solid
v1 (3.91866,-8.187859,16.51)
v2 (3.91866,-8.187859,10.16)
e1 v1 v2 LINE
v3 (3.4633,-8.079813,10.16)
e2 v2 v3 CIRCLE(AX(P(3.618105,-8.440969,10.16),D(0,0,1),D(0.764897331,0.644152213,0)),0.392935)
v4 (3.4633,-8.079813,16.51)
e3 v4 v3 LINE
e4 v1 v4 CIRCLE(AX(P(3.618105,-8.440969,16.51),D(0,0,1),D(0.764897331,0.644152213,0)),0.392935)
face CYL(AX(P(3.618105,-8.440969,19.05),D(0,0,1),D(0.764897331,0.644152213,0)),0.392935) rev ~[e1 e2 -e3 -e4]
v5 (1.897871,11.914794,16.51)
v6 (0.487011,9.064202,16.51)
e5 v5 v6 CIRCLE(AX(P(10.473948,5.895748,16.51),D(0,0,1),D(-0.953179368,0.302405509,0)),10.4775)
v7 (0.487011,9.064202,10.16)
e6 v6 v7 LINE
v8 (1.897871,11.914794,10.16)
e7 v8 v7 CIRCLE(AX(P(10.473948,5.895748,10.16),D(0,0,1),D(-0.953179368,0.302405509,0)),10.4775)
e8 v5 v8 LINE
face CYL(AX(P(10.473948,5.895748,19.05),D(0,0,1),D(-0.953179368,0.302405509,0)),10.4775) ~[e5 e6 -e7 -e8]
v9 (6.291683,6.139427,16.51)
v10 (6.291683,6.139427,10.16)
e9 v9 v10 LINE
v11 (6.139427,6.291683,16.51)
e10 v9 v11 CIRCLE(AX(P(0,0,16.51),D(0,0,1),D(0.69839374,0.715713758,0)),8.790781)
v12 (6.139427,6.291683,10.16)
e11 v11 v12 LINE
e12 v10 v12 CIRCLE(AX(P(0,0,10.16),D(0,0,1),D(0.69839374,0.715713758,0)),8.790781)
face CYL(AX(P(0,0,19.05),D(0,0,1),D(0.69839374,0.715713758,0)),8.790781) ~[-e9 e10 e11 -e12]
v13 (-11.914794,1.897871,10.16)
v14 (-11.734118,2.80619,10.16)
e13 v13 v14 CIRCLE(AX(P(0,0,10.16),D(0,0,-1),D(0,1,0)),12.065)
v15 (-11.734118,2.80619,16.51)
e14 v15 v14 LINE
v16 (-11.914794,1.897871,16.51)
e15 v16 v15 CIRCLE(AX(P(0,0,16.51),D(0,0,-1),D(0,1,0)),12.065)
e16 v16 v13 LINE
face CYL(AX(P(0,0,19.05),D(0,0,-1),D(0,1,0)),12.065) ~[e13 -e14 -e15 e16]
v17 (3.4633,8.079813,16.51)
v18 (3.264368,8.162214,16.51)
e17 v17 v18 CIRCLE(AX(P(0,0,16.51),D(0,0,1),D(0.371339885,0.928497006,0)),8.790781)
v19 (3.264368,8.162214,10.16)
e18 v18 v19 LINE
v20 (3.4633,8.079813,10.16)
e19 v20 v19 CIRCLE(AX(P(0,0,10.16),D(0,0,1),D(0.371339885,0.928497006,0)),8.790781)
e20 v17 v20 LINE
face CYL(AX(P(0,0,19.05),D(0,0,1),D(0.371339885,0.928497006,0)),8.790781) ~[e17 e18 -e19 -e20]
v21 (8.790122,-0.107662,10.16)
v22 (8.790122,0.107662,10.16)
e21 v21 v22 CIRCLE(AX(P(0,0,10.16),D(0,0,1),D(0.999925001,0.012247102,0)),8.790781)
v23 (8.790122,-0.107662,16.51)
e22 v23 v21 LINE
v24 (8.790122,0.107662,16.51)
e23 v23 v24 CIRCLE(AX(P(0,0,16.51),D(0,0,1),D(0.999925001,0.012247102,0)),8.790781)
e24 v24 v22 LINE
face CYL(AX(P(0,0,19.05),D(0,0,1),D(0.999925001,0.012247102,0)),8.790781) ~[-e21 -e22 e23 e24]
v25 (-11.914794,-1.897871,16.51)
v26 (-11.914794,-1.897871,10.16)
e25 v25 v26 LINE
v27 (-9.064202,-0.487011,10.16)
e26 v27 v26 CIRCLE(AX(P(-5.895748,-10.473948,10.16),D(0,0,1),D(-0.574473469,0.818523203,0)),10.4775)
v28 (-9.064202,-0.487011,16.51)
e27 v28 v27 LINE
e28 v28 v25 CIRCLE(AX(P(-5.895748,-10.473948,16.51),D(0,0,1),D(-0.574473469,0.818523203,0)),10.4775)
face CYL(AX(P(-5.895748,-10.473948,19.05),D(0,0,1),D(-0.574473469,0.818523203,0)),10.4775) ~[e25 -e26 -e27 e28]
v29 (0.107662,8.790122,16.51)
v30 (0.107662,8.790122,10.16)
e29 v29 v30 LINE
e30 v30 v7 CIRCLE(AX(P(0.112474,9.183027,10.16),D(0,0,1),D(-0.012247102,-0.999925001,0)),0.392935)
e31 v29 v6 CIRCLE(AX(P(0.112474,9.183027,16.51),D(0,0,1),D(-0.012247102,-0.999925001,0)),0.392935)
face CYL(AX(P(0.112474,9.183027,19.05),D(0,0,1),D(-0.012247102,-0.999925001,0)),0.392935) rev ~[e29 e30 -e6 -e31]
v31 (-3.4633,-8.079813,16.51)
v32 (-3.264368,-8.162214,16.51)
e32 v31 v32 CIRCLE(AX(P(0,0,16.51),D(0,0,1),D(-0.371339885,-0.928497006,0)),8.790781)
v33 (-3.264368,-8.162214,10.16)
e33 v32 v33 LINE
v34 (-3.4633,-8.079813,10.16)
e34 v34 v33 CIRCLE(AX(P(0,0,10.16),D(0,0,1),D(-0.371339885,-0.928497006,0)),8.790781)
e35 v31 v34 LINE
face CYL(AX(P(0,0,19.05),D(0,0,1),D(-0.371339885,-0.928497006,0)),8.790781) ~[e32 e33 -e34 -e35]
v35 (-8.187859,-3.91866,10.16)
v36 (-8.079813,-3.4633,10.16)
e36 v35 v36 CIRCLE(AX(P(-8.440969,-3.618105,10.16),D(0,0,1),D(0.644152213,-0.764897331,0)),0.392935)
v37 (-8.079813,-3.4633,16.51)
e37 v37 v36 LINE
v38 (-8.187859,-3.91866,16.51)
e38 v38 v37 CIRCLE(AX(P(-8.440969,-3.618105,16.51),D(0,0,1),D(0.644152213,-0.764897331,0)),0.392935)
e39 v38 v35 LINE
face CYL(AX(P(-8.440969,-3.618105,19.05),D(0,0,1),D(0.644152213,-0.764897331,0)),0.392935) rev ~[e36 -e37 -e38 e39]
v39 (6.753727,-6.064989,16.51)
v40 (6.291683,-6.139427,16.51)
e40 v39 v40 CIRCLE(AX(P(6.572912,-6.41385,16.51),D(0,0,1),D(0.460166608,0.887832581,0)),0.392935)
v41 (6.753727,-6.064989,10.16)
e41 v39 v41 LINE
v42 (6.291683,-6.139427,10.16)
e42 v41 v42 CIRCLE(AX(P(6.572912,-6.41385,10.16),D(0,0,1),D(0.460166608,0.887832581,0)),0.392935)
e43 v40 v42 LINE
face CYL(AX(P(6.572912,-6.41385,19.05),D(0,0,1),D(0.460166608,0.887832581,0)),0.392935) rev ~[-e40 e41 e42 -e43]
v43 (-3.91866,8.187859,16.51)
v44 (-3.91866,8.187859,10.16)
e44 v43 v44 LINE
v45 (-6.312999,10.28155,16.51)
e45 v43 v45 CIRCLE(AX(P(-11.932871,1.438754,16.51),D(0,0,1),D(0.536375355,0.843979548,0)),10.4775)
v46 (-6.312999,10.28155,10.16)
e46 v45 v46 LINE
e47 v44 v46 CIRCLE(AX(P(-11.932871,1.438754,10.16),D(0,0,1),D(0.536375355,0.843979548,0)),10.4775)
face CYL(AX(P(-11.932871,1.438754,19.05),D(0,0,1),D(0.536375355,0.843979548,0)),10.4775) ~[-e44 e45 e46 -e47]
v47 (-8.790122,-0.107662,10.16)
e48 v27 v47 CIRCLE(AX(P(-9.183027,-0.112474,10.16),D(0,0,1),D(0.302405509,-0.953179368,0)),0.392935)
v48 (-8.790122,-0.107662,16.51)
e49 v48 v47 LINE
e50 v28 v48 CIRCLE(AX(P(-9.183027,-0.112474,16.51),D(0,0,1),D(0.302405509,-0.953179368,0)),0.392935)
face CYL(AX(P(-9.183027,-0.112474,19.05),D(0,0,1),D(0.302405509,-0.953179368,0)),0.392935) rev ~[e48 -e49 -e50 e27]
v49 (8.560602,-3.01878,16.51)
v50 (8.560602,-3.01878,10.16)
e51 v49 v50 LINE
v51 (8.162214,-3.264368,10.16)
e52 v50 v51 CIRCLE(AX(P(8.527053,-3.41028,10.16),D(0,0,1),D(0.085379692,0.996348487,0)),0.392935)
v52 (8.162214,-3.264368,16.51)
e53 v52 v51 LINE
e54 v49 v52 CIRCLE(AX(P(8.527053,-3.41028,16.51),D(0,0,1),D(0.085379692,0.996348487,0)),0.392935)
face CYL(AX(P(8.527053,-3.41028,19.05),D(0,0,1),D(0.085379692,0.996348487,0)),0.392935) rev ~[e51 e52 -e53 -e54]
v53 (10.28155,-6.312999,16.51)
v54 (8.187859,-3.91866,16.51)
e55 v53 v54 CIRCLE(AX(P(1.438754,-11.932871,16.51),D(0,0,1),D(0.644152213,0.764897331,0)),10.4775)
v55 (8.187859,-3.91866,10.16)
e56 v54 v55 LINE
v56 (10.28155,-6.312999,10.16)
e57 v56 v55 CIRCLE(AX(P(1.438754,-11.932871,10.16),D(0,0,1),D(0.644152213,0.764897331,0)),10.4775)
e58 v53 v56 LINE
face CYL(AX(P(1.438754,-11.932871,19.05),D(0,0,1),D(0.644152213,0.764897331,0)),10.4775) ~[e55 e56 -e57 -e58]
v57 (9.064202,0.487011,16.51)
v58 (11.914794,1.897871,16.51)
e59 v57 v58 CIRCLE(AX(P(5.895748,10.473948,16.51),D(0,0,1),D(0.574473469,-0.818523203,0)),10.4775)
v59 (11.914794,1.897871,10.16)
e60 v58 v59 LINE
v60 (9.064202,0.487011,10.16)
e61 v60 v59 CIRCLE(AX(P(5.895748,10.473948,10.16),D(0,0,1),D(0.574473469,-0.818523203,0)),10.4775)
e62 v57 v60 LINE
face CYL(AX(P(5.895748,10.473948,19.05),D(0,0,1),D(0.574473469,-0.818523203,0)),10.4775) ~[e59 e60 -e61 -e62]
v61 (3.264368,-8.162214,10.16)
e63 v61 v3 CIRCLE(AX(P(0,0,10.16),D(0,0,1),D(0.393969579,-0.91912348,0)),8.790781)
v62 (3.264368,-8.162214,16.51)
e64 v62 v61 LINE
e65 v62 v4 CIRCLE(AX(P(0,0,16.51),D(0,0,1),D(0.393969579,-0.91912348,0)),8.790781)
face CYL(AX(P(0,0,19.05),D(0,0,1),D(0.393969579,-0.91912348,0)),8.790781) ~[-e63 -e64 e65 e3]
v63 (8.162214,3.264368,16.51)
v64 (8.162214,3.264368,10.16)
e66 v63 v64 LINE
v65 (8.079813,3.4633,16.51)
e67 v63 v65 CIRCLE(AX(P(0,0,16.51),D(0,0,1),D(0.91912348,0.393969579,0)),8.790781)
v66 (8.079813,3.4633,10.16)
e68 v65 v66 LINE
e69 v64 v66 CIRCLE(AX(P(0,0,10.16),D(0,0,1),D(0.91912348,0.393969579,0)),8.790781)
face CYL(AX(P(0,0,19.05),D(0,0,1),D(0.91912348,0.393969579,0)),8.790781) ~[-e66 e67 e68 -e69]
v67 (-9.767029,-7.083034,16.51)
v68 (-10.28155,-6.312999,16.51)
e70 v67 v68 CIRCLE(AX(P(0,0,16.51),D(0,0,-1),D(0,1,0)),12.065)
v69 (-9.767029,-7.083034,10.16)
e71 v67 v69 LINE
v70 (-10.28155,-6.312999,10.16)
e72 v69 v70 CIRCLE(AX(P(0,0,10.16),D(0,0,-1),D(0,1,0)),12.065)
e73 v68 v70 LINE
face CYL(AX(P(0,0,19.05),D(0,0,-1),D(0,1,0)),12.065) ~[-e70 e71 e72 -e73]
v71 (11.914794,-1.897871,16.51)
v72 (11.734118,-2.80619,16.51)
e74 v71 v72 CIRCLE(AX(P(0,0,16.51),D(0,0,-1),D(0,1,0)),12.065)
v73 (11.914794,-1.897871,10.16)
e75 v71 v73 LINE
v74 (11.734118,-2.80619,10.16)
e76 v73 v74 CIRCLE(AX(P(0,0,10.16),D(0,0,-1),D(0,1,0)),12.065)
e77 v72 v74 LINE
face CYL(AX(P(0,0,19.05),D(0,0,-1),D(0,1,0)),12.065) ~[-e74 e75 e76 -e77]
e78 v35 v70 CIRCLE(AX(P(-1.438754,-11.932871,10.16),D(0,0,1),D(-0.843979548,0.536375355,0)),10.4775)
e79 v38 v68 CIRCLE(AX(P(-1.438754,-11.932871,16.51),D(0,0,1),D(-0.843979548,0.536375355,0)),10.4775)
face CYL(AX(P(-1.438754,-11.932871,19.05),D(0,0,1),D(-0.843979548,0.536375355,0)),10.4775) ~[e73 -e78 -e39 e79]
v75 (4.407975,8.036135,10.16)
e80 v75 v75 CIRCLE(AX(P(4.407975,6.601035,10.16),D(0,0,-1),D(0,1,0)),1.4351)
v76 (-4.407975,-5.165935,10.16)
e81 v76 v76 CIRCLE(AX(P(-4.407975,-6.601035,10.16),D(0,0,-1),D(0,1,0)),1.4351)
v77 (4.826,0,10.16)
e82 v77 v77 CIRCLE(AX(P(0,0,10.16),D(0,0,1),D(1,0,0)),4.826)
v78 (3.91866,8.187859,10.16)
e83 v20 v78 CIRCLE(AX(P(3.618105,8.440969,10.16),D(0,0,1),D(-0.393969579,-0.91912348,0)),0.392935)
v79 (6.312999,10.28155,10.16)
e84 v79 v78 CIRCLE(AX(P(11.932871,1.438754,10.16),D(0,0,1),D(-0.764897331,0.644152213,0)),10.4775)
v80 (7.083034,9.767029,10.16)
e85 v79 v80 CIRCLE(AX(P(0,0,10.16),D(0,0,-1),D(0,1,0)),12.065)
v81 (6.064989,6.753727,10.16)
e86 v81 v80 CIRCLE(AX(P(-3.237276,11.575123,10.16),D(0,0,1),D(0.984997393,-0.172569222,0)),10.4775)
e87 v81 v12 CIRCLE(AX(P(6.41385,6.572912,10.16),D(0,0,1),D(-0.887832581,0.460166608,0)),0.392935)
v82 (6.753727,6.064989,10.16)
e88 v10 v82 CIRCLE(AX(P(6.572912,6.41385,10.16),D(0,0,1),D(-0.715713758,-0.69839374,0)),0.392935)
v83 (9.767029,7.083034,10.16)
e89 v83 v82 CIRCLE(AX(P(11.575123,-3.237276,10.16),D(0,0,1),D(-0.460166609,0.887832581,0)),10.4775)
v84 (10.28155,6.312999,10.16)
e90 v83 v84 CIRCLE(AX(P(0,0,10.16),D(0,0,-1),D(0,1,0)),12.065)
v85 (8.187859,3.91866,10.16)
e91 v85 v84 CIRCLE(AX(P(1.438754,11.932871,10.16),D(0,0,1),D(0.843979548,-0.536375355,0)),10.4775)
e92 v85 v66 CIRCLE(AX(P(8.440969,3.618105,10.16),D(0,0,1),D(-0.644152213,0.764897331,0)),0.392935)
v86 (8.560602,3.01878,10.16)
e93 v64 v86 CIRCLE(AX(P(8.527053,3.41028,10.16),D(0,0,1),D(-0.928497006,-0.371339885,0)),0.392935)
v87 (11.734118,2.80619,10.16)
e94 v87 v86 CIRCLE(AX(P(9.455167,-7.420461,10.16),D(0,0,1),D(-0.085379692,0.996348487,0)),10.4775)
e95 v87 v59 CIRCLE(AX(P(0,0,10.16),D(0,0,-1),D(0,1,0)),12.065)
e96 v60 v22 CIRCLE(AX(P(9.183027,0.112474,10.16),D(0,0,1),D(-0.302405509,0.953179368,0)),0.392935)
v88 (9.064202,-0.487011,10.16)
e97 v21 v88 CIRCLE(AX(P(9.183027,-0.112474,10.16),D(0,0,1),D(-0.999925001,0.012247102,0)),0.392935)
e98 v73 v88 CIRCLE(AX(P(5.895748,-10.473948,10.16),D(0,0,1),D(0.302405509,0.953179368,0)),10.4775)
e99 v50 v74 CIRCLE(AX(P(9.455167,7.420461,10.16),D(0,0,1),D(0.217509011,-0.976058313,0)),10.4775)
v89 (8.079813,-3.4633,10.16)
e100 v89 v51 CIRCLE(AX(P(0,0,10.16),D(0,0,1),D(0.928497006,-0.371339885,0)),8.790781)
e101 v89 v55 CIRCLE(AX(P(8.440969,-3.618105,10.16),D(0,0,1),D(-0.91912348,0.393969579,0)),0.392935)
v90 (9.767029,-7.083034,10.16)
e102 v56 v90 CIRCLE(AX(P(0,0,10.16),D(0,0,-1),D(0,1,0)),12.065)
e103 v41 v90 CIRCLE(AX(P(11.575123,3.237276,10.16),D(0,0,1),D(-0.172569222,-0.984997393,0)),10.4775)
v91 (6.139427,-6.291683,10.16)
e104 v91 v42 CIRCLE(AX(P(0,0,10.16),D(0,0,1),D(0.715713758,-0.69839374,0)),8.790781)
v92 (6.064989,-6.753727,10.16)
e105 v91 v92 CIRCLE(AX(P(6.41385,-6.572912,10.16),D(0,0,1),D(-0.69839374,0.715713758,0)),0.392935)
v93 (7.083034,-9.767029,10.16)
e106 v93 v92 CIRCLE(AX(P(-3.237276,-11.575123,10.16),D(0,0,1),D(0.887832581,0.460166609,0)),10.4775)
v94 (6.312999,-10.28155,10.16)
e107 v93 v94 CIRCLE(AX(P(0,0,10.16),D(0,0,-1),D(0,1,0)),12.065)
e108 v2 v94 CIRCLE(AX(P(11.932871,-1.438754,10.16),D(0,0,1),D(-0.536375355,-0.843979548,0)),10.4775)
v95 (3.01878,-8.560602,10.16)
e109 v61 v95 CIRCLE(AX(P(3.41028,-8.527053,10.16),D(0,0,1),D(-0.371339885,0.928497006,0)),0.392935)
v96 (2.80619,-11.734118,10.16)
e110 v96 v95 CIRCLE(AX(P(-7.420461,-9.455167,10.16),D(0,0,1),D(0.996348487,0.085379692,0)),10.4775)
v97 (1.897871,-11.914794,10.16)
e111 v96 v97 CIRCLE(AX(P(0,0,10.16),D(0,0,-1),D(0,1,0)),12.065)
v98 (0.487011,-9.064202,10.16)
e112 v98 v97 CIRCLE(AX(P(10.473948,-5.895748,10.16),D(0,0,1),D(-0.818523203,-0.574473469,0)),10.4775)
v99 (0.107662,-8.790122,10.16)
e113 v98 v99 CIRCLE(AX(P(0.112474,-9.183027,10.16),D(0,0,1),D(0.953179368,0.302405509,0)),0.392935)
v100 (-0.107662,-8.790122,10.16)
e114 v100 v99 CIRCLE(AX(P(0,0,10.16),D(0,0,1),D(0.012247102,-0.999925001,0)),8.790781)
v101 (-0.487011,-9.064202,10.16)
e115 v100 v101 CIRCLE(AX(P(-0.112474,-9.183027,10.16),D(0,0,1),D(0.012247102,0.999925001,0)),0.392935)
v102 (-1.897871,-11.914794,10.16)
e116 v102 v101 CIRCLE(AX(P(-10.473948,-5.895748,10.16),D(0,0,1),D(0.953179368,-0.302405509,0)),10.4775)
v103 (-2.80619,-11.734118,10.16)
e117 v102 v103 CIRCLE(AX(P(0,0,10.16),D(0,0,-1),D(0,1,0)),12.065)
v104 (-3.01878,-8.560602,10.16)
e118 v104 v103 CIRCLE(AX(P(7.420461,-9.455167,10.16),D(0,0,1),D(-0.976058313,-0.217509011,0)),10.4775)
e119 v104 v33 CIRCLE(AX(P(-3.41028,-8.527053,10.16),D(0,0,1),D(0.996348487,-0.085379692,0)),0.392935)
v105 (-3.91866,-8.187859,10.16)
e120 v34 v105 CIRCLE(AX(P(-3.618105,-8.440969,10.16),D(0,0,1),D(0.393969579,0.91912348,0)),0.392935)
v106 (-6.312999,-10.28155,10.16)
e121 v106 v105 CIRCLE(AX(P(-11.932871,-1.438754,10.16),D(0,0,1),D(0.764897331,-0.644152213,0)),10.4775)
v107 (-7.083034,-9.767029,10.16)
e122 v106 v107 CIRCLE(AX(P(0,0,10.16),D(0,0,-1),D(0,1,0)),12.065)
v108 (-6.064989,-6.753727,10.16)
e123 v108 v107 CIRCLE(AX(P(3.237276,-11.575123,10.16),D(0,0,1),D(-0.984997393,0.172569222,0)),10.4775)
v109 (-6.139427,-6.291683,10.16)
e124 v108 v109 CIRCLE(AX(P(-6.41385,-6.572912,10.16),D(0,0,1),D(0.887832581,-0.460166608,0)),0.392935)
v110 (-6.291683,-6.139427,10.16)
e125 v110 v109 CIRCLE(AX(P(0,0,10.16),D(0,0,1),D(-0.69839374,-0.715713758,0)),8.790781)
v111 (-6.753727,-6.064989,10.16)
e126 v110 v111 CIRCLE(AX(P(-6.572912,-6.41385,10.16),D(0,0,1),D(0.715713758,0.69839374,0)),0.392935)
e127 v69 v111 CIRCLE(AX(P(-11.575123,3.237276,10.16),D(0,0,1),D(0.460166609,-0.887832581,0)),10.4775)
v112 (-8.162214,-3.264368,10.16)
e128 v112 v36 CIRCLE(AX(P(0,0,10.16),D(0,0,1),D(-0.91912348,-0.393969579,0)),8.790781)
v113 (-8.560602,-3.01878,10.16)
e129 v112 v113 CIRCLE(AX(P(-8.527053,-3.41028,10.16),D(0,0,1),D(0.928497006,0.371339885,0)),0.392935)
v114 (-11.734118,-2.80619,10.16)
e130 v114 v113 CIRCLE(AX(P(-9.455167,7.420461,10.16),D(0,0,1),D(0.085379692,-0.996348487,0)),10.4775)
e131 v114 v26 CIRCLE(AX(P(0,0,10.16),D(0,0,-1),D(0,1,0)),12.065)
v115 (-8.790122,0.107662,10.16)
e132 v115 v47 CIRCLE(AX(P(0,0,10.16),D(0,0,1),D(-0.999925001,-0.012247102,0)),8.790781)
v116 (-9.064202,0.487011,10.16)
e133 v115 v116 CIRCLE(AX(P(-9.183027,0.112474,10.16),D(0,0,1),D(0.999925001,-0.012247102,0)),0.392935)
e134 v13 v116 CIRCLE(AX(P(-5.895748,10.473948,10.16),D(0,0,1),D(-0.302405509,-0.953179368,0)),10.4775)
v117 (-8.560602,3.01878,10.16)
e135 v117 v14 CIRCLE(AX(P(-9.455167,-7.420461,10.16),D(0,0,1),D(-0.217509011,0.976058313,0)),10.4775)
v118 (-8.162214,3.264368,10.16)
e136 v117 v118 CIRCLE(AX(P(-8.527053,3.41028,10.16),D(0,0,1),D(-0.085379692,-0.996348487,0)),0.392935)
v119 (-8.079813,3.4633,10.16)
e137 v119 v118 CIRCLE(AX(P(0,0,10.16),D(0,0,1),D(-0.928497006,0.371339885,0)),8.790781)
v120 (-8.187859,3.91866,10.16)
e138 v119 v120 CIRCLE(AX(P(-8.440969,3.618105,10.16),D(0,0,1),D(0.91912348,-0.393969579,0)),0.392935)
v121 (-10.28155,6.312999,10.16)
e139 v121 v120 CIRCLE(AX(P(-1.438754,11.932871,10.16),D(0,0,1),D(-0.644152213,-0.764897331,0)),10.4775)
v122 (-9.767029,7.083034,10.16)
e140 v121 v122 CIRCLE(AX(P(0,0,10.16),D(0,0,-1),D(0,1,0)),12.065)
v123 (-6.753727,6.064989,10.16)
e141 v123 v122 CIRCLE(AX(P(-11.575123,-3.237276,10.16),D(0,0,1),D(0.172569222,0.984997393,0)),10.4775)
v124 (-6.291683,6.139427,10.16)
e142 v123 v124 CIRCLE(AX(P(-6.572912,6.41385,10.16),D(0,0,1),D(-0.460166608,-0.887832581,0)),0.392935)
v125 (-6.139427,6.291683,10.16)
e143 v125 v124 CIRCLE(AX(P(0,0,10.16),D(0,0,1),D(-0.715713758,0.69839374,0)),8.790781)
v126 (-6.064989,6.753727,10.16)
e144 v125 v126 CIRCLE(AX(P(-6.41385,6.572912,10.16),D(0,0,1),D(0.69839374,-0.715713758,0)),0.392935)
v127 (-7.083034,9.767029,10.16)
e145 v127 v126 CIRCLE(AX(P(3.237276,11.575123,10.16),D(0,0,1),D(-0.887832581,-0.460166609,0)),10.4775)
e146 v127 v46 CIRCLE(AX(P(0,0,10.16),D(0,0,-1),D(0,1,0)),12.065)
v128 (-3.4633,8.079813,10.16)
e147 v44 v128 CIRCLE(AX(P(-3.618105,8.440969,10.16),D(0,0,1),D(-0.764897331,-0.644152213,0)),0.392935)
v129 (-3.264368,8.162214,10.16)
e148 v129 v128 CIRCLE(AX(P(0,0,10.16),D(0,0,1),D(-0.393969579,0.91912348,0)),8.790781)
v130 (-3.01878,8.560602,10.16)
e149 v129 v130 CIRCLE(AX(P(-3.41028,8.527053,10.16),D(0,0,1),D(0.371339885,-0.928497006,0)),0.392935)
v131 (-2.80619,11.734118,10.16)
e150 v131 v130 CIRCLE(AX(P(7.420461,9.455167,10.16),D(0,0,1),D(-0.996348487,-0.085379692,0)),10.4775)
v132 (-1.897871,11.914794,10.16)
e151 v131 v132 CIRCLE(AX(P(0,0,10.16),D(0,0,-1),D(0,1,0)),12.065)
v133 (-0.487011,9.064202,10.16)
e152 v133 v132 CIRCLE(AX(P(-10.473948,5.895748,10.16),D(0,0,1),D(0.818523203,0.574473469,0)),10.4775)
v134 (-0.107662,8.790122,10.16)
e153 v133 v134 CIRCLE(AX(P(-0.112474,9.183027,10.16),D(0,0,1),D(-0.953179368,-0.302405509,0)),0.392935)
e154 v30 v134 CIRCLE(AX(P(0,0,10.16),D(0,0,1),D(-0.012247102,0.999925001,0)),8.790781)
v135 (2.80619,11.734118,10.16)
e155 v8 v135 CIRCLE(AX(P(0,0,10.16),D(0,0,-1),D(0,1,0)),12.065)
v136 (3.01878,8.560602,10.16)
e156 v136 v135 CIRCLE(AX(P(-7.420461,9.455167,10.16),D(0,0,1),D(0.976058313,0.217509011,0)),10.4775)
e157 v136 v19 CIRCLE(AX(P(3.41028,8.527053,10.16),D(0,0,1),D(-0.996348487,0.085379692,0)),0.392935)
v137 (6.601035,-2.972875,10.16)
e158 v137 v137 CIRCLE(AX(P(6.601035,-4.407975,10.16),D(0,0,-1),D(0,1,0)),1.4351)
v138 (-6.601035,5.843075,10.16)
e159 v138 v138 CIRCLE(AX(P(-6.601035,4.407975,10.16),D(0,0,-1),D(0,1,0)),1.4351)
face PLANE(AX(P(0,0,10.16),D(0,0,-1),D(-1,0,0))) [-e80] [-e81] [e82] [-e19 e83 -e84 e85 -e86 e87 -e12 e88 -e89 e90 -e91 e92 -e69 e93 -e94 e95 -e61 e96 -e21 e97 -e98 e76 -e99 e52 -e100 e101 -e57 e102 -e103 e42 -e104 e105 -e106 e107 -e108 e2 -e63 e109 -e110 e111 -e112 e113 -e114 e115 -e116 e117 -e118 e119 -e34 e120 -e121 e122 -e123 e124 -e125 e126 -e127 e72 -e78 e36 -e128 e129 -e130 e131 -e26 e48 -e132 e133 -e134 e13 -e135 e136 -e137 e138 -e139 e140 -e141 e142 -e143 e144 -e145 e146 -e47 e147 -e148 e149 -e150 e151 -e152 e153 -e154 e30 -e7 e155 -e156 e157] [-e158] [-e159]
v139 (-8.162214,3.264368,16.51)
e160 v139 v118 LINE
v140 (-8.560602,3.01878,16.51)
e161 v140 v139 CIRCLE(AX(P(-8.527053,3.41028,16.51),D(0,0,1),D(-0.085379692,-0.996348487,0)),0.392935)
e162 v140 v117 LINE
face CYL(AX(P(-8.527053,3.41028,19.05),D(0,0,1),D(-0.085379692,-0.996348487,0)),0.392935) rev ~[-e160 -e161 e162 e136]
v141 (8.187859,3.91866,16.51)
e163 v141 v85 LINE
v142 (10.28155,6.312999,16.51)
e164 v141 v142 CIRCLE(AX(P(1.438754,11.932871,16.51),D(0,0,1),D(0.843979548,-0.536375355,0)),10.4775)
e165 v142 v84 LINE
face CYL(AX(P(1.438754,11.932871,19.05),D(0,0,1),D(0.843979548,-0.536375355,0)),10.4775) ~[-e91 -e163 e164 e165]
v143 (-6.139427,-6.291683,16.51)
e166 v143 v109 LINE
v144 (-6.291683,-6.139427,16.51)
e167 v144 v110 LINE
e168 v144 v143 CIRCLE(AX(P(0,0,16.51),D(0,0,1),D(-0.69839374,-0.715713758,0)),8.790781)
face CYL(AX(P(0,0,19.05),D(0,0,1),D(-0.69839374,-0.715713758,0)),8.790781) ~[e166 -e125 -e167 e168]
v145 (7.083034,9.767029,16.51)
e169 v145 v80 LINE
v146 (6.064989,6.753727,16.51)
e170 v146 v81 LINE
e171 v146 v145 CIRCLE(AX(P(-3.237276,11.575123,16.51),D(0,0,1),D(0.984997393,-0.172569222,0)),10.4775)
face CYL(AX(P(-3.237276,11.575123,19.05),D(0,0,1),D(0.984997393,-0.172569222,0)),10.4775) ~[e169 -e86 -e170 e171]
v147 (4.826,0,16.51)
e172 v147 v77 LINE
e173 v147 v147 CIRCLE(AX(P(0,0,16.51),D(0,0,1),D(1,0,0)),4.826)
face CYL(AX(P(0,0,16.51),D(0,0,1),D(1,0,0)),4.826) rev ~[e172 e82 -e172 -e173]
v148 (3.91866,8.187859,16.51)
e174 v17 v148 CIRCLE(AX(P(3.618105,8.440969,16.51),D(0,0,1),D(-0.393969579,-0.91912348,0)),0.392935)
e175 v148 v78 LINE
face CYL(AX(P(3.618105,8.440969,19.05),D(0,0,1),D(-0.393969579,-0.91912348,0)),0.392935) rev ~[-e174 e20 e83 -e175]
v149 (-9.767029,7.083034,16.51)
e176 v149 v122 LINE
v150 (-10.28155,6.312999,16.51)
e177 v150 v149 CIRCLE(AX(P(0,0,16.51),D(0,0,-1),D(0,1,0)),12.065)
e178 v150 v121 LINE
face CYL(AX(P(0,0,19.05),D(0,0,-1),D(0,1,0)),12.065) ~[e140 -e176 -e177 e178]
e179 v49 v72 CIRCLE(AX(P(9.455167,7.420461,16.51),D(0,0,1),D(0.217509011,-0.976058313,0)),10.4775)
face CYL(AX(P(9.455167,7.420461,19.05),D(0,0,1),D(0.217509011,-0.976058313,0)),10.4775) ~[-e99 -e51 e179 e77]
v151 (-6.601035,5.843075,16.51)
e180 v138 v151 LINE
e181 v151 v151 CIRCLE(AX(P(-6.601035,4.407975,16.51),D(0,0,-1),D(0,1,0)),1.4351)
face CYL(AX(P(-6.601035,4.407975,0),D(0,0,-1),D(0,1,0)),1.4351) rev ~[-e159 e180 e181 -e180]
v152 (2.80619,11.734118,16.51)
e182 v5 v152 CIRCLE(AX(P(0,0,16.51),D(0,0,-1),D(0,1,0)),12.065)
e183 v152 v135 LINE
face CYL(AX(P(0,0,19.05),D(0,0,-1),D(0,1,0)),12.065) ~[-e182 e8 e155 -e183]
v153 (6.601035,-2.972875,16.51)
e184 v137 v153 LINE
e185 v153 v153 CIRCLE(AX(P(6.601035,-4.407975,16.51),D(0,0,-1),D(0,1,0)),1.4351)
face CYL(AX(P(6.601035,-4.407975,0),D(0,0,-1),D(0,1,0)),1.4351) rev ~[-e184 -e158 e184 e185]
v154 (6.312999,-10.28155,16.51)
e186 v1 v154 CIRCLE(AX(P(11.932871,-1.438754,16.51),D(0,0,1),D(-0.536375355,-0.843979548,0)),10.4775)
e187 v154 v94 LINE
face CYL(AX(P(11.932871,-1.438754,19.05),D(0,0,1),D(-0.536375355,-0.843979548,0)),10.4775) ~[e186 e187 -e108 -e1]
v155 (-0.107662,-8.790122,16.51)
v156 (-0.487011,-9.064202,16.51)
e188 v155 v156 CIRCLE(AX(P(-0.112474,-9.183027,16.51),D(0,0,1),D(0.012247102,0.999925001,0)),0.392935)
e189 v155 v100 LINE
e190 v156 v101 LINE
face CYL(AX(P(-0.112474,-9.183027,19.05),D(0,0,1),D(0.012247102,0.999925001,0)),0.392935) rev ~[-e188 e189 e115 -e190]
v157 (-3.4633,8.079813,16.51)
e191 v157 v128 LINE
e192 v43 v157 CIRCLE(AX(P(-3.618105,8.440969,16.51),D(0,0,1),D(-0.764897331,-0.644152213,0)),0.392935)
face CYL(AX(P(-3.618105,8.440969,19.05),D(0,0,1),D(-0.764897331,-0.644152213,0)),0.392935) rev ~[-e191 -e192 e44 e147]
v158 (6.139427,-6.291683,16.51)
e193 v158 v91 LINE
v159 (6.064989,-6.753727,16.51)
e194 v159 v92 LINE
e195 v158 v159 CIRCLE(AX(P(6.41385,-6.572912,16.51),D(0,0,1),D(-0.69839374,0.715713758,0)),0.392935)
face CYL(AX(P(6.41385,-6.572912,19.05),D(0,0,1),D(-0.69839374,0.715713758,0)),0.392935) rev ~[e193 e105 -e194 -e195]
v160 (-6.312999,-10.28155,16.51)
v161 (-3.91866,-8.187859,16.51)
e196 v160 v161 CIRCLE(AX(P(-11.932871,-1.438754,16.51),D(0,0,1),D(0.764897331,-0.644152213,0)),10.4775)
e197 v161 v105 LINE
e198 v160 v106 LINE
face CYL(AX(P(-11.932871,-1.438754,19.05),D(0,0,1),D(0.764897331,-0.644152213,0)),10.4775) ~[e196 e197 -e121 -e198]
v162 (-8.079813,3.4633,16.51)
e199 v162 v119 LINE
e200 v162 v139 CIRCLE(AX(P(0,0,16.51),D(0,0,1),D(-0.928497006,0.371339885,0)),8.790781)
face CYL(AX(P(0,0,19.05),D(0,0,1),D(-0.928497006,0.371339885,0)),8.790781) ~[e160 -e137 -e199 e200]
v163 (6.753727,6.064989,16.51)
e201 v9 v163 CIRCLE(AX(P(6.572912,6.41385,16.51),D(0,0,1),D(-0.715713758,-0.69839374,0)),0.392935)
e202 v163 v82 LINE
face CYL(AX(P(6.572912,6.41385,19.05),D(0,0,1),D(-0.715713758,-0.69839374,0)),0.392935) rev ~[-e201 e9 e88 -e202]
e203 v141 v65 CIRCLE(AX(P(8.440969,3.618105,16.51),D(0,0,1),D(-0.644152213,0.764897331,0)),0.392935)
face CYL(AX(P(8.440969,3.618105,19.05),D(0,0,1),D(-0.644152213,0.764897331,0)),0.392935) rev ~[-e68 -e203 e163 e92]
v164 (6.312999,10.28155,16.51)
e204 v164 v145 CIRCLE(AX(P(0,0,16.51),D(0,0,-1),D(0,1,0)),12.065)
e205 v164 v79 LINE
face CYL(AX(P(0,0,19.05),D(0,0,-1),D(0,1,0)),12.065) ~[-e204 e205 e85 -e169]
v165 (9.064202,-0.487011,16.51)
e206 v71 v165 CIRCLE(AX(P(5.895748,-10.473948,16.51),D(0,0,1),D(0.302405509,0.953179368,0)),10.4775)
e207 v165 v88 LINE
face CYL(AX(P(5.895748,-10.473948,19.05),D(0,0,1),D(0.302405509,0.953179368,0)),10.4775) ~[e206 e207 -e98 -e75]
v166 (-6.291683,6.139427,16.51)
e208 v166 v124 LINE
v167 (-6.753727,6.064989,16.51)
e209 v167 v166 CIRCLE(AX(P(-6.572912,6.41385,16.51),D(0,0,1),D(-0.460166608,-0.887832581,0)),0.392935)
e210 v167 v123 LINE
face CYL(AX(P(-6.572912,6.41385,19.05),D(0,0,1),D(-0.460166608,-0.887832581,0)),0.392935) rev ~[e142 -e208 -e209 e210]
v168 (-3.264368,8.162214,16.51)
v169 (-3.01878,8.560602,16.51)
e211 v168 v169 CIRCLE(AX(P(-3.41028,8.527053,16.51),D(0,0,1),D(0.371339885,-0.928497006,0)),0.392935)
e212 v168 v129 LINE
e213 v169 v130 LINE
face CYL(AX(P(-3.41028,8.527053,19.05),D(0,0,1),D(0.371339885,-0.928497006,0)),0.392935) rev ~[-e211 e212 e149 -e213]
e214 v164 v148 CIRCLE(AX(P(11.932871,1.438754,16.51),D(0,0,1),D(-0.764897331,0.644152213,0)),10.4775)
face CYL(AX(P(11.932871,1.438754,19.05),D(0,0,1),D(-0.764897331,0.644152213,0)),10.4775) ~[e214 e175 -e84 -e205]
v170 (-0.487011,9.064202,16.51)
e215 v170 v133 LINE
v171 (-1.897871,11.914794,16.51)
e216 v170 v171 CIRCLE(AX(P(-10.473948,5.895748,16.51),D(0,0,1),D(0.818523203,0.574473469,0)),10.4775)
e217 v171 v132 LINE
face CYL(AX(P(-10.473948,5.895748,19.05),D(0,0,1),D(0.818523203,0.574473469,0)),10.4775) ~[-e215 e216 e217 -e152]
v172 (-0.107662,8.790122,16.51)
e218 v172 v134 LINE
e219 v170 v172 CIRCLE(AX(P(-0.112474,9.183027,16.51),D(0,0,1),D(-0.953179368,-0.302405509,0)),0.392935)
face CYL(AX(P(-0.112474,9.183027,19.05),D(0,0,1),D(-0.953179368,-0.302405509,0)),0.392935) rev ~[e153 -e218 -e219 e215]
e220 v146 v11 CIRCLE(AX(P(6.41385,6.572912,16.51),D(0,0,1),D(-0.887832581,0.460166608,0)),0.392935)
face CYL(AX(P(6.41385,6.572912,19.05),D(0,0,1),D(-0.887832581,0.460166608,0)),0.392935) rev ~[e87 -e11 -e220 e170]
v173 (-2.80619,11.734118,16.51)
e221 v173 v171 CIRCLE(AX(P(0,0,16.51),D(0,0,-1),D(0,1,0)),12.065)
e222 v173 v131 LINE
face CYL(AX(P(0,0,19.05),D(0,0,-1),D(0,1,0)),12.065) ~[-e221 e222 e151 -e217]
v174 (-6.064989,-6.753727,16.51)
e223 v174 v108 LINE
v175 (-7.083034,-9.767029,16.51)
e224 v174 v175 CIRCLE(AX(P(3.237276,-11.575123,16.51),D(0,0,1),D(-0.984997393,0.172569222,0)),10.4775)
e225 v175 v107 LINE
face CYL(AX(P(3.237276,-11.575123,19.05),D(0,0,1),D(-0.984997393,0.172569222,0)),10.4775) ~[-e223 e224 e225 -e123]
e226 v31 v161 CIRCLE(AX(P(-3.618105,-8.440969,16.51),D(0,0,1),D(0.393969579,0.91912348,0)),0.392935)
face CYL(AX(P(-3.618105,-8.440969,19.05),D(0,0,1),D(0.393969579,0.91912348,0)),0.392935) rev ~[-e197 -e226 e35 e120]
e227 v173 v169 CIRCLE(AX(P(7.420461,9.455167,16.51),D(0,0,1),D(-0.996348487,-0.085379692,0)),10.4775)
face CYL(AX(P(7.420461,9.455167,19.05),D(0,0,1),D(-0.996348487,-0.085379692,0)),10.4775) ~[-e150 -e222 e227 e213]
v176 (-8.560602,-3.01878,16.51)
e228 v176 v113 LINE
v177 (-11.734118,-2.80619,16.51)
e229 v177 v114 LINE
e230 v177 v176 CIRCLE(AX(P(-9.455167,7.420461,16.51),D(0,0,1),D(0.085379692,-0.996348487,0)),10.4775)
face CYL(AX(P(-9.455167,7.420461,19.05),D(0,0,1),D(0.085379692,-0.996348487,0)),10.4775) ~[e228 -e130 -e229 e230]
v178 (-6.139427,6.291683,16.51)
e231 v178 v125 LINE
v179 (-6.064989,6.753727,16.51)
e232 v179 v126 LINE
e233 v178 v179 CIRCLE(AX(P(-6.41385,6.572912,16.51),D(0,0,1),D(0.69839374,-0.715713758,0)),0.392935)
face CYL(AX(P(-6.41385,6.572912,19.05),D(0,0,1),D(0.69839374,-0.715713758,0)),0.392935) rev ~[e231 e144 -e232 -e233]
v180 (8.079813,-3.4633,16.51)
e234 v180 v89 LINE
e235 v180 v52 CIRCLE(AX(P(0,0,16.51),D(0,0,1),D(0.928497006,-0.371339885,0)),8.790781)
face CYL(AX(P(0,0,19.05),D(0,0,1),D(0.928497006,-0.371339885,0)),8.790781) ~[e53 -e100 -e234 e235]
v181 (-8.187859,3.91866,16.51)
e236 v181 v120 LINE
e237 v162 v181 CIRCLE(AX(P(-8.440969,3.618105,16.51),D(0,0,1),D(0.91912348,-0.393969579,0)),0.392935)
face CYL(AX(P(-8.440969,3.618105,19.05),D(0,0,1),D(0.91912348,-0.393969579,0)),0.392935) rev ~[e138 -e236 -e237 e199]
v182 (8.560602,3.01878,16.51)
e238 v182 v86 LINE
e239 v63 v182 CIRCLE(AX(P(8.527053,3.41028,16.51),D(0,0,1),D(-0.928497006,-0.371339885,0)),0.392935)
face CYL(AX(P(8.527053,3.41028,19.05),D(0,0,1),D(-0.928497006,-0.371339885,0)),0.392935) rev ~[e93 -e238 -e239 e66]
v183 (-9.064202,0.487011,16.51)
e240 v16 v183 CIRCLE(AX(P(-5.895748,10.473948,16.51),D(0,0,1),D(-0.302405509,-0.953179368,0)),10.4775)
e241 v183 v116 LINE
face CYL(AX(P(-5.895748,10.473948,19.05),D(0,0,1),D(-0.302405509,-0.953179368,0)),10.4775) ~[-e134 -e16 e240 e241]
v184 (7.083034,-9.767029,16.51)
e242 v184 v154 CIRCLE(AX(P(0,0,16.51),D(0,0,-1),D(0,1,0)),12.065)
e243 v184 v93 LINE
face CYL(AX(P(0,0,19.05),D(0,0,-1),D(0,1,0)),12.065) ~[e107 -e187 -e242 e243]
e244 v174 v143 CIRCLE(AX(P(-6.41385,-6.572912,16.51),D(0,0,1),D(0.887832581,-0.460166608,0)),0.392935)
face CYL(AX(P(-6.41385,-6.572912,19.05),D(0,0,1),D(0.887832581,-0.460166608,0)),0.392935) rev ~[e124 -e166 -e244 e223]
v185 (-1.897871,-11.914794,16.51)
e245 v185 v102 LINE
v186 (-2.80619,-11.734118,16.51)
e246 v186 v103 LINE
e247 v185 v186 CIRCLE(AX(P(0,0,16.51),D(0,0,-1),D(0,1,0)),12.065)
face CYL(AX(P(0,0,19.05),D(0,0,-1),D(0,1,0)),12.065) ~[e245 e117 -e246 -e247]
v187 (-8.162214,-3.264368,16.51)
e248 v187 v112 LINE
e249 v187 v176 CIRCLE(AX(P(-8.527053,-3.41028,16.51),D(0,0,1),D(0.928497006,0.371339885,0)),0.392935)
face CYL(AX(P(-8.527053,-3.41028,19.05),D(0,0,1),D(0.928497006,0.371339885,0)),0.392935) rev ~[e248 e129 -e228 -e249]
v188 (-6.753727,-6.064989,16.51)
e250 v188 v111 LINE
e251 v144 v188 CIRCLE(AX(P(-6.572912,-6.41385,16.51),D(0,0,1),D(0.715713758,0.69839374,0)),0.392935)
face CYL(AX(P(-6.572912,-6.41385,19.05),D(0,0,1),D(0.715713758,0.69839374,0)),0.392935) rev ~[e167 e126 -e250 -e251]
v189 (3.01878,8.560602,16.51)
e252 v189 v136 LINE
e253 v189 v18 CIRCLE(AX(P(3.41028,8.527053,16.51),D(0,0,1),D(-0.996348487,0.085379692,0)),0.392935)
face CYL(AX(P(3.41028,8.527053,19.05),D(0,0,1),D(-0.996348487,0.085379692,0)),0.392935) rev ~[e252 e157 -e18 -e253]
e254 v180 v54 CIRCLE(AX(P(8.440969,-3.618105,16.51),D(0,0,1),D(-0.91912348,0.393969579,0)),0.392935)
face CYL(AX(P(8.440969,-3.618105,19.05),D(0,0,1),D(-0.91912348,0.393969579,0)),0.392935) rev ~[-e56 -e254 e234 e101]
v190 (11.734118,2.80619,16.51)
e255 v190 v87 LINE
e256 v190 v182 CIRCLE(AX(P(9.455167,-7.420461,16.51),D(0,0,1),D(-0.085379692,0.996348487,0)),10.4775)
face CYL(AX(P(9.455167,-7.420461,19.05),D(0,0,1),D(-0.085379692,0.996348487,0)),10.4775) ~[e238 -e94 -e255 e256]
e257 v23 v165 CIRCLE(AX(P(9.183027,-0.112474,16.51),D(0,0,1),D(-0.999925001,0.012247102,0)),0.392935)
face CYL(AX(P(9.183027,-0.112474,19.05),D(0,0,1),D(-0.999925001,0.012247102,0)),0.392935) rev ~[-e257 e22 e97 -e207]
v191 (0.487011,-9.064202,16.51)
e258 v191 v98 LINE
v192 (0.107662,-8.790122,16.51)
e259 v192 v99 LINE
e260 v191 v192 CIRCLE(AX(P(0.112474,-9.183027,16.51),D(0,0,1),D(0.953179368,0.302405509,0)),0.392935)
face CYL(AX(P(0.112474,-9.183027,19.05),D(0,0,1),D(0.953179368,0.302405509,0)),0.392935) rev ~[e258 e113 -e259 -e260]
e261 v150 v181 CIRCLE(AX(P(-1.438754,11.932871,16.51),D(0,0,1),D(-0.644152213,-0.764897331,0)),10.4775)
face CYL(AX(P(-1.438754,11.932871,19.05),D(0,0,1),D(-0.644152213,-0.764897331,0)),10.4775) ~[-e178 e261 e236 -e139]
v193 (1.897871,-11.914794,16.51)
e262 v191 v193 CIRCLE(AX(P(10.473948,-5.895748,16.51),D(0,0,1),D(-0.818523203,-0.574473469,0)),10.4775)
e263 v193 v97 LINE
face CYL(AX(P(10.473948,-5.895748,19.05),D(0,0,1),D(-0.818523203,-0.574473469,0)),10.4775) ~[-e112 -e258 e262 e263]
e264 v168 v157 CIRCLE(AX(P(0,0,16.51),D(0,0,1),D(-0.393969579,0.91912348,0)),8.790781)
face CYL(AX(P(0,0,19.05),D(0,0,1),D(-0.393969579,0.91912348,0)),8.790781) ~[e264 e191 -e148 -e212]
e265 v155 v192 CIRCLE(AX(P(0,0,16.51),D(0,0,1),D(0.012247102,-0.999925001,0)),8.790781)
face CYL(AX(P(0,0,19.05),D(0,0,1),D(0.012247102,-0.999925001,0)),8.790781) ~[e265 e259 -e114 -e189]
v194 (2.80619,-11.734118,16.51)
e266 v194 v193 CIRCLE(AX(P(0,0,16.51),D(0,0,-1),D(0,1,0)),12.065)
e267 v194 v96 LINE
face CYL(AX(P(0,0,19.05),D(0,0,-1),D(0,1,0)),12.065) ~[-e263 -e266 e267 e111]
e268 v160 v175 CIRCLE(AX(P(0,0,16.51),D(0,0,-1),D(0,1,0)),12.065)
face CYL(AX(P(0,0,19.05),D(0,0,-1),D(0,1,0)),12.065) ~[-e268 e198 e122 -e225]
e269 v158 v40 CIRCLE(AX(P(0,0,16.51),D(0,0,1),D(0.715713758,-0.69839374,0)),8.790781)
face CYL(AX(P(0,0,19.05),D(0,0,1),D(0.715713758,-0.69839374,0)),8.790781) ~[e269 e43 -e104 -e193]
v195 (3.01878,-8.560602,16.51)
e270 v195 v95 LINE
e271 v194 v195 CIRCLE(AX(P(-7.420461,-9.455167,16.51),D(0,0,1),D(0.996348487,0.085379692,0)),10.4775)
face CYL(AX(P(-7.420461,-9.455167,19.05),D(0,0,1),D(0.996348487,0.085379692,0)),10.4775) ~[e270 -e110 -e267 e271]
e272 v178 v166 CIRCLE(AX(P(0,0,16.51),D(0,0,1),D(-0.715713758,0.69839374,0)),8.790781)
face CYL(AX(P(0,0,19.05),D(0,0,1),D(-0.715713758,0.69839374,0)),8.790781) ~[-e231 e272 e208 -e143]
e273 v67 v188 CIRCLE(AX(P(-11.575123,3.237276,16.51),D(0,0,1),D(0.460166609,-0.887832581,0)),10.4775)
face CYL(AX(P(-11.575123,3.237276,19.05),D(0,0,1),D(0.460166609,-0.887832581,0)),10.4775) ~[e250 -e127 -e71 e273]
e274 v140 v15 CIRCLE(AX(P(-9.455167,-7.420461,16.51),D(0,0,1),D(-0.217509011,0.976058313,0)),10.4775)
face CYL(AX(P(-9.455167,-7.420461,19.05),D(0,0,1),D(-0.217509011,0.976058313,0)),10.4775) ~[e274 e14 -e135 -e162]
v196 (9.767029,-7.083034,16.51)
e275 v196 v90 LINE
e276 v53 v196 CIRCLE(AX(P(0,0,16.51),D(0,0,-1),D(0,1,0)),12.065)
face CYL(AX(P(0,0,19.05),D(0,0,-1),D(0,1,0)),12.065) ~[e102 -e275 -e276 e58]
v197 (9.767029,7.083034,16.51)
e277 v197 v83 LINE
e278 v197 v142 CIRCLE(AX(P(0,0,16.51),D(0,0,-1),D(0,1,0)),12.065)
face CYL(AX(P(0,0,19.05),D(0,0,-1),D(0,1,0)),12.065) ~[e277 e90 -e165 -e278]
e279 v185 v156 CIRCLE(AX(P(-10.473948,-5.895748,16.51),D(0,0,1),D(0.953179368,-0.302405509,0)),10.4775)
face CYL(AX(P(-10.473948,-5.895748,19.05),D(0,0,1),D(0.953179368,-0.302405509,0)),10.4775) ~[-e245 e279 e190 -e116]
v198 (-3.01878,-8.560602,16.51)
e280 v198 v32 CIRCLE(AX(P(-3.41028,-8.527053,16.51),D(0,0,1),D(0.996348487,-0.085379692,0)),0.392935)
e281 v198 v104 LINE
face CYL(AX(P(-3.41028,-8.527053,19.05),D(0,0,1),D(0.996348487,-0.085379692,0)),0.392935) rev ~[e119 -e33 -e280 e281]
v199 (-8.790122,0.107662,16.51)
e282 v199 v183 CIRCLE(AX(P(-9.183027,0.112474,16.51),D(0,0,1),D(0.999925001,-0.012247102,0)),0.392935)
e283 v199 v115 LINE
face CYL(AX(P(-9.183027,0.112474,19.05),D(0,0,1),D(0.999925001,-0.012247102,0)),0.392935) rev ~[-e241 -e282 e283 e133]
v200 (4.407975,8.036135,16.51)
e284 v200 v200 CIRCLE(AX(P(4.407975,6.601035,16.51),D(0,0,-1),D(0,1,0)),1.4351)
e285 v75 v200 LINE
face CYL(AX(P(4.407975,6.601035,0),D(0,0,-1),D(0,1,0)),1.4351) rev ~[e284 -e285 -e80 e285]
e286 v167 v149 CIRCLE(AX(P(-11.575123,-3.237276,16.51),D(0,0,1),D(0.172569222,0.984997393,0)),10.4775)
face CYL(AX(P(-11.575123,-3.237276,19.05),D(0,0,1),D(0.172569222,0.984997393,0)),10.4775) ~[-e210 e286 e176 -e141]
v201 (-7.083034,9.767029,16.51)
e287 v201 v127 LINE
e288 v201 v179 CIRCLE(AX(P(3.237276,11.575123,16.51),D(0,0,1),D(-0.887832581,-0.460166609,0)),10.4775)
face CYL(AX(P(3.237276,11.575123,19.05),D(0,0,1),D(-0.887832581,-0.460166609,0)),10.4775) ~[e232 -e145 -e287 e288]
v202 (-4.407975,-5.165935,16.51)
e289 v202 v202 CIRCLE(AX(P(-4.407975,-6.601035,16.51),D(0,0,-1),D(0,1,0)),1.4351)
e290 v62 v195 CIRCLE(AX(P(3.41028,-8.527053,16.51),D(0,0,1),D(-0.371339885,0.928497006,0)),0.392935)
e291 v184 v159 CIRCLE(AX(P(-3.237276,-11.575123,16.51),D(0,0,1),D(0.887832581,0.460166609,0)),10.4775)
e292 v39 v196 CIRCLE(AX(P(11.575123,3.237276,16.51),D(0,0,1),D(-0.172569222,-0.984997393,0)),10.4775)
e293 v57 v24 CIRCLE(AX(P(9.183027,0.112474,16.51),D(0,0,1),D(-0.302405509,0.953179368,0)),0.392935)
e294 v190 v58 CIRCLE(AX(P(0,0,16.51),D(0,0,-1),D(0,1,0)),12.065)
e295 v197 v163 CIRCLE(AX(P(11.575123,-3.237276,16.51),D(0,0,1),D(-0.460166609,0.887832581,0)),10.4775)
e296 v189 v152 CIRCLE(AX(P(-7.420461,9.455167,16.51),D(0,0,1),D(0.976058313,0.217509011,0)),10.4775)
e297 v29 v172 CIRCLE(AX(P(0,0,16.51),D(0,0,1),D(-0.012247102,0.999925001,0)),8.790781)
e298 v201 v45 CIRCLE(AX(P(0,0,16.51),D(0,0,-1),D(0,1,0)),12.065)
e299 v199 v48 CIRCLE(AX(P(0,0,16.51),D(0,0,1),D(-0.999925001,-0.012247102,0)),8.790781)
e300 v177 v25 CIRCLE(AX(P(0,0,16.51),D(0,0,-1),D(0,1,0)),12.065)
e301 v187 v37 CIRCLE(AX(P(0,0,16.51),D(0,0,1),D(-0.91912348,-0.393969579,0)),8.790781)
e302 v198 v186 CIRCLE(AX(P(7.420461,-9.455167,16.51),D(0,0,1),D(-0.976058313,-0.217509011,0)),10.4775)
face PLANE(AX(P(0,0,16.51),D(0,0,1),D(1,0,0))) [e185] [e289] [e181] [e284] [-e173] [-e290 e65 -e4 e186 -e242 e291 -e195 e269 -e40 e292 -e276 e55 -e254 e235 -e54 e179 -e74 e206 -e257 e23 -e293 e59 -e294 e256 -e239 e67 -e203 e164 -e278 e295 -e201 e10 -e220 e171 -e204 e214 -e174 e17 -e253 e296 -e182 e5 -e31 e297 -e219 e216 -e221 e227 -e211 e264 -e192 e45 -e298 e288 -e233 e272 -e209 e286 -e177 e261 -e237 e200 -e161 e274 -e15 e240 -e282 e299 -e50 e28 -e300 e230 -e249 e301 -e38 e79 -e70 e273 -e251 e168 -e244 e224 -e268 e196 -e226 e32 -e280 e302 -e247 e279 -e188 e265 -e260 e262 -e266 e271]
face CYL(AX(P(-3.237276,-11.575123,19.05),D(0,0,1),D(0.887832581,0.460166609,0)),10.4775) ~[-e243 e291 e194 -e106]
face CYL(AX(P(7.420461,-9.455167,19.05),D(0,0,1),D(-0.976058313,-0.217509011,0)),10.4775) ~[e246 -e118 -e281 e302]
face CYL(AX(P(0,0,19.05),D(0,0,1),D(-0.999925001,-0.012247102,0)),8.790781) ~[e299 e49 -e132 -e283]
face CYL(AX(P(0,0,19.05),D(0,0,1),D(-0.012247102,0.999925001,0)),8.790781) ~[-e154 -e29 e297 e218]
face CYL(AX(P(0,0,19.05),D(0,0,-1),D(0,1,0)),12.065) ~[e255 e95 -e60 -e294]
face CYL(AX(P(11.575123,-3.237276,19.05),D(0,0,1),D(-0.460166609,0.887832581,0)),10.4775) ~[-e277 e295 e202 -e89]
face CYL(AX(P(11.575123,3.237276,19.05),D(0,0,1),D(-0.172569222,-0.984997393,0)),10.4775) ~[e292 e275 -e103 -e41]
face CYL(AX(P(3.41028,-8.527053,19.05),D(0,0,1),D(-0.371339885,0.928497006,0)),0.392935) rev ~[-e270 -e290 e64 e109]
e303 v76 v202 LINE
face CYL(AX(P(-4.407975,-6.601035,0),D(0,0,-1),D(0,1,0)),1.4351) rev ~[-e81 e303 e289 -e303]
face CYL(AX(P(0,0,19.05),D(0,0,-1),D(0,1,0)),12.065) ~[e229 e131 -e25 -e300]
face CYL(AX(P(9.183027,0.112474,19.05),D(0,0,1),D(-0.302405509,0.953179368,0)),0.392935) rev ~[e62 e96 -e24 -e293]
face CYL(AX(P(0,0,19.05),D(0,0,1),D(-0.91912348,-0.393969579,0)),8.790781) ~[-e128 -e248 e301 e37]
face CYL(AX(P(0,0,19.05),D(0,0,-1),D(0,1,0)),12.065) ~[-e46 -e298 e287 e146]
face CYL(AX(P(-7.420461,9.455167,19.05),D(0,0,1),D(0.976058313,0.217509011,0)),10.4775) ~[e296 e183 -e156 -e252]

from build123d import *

# Parameters (mm, degrees)
FILLET2_R           = 0.2413
CUT_EXTRUDE2_DEPTH  = 26.574028913
CIRPATTERN1_COUNT   = 16
SKETCH10_R          = 29.093421686
CUT_EXTRUDE3_DEPTH  = 15.24
SKETCH11_R          = 20.555223038
CUT_EXTRUDE4_DEPTH  = 10.16
SKETCH12_R          = 7.917123479
SKETCH12_R_2        = 4.826
BOSS_EXTRUDE1_DEPTH = 6.35
SKETCH_1_R          = 1.4351
CUT_EXTRUDE_1_DEPTH = 24.590352248


with BuildPart() as part:
    # Sketch4 → Revolve1 (revolve)
    with BuildSketch(Plane(origin=(0, 0, 0), x_dir=(0, 0, -1), z_dir=(1, 0, 0))):
        Polygon((-31.75, 6.35), (-31.75, 10.3251), (-19.05, 10.3251), (-19.05, 12.065), (0, 12.065), (0, 6.35), align=None)
    revolve(axis=Axis((0, 0, 19.05), (0, 0, 1)))

    # Fillet2
    fillet2_edges = [part.edges().sort_by_distance(p)[0] for p in [
        (0, -12.065, 0),
        (0, -12.065, 19.05),
        (0, -10.3251, 19.05),
        (0, -10.3251, 31.75),
    ]]
    fillet(fillet2_edges, radius=FILLET2_R)

    # Sketch7 → Cut-Extrude2 (cut, through all)
    with BuildSketch(Plane.XY.offset(19.05)):
        with BuildLine():
            ThreePointArc((-0.107661594, 8.790121954), (0, 8.79078125), (0.107661594, 8.790121954))
            ThreePointArc((0.107661594, 8.790121954), (0.342591452, 8.864525037), (0.487011309, 9.064201678))
            ThreePointArc((0.487011309, 9.064201678), (1.083642605, 10.543346068), (1.897871283, 11.914793728))
            ThreePointArc((1.897871283, 11.914793728), (0, 12.065), (-1.897871283, 11.914793728))
            ThreePointArc((-1.897871283, 11.914793728), (-1.083642605, 10.543346068), (-0.487011309, 9.064201678))
            ThreePointArc((-0.487011309, 9.064201678), (-0.342591452, 8.864525037), (-0.107661594, 8.790121954))
        make_face()
    cut_extrude2 = extrude(amount=-CUT_EXTRUDE2_DEPTH, mode=Mode.SUBTRACT)

    # CirPattern1: Cut-Extrude2 ×16 about axis
    cirpattern1_axis = Axis((0, 0, 0), (0, 0, 1))
    for i in range(1, CIRPATTERN1_COUNT):
        add(cut_extrude2.rotate(cirpattern1_axis, i * 360 / CIRPATTERN1_COUNT), mode=Mode.SUBTRACT)

    # Sketch10 → Cut-Extrude3 (cut)
    with BuildSketch(Plane.XY.offset(31.75)):
        Circle(SKETCH10_R)
    extrude(amount=-CUT_EXTRUDE3_DEPTH, mode=Mode.SUBTRACT)

    # Sketch11 → Cut-Extrude4 (cut)
    with BuildSketch(Plane(origin=(0, 0, 0), x_dir=(-1, 0, 0), z_dir=(0, 0, -1))):
        Circle(SKETCH11_R)
    extrude(amount=-CUT_EXTRUDE4_DEPTH, mode=Mode.SUBTRACT)

    # Sketch12 → Boss-Extrude1 (add)
    with BuildSketch(Plane.XY.offset(16.51)):
        Circle(SKETCH12_R)
        Circle(SKETCH12_R_2, mode=Mode.SUBTRACT)
    extrude(amount=-BOSS_EXTRUDE1_DEPTH)

    # Эскиз1 → Вырез-Вытянуть1 (cut, through all)
    with BuildSketch(Plane(origin=(0, 0, 0), x_dir=(-1, 0, 0), z_dir=(0, 0, -1))):
        with Locations(Location((6.601034981, 4.40797498, 0), (0, 0, 90))):
            Circle(SKETCH_1_R)
        with Locations(Location((4.40797498, -6.601034981, 0), (0, 0, 90))):
            Circle(SKETCH_1_R)
        with Locations(Location((-6.601034981, -4.40797498, 0), (0, 0, 90))):
            Circle(SKETCH_1_R)
        with Locations(Location((-4.40797498, 6.601034981, 0), (0, 0, 90))):
            Circle(SKETCH_1_R)
    extrude(amount=-CUT_EXTRUDE_1_DEPTH, mode=Mode.SUBTRACT)


solid = part.part
